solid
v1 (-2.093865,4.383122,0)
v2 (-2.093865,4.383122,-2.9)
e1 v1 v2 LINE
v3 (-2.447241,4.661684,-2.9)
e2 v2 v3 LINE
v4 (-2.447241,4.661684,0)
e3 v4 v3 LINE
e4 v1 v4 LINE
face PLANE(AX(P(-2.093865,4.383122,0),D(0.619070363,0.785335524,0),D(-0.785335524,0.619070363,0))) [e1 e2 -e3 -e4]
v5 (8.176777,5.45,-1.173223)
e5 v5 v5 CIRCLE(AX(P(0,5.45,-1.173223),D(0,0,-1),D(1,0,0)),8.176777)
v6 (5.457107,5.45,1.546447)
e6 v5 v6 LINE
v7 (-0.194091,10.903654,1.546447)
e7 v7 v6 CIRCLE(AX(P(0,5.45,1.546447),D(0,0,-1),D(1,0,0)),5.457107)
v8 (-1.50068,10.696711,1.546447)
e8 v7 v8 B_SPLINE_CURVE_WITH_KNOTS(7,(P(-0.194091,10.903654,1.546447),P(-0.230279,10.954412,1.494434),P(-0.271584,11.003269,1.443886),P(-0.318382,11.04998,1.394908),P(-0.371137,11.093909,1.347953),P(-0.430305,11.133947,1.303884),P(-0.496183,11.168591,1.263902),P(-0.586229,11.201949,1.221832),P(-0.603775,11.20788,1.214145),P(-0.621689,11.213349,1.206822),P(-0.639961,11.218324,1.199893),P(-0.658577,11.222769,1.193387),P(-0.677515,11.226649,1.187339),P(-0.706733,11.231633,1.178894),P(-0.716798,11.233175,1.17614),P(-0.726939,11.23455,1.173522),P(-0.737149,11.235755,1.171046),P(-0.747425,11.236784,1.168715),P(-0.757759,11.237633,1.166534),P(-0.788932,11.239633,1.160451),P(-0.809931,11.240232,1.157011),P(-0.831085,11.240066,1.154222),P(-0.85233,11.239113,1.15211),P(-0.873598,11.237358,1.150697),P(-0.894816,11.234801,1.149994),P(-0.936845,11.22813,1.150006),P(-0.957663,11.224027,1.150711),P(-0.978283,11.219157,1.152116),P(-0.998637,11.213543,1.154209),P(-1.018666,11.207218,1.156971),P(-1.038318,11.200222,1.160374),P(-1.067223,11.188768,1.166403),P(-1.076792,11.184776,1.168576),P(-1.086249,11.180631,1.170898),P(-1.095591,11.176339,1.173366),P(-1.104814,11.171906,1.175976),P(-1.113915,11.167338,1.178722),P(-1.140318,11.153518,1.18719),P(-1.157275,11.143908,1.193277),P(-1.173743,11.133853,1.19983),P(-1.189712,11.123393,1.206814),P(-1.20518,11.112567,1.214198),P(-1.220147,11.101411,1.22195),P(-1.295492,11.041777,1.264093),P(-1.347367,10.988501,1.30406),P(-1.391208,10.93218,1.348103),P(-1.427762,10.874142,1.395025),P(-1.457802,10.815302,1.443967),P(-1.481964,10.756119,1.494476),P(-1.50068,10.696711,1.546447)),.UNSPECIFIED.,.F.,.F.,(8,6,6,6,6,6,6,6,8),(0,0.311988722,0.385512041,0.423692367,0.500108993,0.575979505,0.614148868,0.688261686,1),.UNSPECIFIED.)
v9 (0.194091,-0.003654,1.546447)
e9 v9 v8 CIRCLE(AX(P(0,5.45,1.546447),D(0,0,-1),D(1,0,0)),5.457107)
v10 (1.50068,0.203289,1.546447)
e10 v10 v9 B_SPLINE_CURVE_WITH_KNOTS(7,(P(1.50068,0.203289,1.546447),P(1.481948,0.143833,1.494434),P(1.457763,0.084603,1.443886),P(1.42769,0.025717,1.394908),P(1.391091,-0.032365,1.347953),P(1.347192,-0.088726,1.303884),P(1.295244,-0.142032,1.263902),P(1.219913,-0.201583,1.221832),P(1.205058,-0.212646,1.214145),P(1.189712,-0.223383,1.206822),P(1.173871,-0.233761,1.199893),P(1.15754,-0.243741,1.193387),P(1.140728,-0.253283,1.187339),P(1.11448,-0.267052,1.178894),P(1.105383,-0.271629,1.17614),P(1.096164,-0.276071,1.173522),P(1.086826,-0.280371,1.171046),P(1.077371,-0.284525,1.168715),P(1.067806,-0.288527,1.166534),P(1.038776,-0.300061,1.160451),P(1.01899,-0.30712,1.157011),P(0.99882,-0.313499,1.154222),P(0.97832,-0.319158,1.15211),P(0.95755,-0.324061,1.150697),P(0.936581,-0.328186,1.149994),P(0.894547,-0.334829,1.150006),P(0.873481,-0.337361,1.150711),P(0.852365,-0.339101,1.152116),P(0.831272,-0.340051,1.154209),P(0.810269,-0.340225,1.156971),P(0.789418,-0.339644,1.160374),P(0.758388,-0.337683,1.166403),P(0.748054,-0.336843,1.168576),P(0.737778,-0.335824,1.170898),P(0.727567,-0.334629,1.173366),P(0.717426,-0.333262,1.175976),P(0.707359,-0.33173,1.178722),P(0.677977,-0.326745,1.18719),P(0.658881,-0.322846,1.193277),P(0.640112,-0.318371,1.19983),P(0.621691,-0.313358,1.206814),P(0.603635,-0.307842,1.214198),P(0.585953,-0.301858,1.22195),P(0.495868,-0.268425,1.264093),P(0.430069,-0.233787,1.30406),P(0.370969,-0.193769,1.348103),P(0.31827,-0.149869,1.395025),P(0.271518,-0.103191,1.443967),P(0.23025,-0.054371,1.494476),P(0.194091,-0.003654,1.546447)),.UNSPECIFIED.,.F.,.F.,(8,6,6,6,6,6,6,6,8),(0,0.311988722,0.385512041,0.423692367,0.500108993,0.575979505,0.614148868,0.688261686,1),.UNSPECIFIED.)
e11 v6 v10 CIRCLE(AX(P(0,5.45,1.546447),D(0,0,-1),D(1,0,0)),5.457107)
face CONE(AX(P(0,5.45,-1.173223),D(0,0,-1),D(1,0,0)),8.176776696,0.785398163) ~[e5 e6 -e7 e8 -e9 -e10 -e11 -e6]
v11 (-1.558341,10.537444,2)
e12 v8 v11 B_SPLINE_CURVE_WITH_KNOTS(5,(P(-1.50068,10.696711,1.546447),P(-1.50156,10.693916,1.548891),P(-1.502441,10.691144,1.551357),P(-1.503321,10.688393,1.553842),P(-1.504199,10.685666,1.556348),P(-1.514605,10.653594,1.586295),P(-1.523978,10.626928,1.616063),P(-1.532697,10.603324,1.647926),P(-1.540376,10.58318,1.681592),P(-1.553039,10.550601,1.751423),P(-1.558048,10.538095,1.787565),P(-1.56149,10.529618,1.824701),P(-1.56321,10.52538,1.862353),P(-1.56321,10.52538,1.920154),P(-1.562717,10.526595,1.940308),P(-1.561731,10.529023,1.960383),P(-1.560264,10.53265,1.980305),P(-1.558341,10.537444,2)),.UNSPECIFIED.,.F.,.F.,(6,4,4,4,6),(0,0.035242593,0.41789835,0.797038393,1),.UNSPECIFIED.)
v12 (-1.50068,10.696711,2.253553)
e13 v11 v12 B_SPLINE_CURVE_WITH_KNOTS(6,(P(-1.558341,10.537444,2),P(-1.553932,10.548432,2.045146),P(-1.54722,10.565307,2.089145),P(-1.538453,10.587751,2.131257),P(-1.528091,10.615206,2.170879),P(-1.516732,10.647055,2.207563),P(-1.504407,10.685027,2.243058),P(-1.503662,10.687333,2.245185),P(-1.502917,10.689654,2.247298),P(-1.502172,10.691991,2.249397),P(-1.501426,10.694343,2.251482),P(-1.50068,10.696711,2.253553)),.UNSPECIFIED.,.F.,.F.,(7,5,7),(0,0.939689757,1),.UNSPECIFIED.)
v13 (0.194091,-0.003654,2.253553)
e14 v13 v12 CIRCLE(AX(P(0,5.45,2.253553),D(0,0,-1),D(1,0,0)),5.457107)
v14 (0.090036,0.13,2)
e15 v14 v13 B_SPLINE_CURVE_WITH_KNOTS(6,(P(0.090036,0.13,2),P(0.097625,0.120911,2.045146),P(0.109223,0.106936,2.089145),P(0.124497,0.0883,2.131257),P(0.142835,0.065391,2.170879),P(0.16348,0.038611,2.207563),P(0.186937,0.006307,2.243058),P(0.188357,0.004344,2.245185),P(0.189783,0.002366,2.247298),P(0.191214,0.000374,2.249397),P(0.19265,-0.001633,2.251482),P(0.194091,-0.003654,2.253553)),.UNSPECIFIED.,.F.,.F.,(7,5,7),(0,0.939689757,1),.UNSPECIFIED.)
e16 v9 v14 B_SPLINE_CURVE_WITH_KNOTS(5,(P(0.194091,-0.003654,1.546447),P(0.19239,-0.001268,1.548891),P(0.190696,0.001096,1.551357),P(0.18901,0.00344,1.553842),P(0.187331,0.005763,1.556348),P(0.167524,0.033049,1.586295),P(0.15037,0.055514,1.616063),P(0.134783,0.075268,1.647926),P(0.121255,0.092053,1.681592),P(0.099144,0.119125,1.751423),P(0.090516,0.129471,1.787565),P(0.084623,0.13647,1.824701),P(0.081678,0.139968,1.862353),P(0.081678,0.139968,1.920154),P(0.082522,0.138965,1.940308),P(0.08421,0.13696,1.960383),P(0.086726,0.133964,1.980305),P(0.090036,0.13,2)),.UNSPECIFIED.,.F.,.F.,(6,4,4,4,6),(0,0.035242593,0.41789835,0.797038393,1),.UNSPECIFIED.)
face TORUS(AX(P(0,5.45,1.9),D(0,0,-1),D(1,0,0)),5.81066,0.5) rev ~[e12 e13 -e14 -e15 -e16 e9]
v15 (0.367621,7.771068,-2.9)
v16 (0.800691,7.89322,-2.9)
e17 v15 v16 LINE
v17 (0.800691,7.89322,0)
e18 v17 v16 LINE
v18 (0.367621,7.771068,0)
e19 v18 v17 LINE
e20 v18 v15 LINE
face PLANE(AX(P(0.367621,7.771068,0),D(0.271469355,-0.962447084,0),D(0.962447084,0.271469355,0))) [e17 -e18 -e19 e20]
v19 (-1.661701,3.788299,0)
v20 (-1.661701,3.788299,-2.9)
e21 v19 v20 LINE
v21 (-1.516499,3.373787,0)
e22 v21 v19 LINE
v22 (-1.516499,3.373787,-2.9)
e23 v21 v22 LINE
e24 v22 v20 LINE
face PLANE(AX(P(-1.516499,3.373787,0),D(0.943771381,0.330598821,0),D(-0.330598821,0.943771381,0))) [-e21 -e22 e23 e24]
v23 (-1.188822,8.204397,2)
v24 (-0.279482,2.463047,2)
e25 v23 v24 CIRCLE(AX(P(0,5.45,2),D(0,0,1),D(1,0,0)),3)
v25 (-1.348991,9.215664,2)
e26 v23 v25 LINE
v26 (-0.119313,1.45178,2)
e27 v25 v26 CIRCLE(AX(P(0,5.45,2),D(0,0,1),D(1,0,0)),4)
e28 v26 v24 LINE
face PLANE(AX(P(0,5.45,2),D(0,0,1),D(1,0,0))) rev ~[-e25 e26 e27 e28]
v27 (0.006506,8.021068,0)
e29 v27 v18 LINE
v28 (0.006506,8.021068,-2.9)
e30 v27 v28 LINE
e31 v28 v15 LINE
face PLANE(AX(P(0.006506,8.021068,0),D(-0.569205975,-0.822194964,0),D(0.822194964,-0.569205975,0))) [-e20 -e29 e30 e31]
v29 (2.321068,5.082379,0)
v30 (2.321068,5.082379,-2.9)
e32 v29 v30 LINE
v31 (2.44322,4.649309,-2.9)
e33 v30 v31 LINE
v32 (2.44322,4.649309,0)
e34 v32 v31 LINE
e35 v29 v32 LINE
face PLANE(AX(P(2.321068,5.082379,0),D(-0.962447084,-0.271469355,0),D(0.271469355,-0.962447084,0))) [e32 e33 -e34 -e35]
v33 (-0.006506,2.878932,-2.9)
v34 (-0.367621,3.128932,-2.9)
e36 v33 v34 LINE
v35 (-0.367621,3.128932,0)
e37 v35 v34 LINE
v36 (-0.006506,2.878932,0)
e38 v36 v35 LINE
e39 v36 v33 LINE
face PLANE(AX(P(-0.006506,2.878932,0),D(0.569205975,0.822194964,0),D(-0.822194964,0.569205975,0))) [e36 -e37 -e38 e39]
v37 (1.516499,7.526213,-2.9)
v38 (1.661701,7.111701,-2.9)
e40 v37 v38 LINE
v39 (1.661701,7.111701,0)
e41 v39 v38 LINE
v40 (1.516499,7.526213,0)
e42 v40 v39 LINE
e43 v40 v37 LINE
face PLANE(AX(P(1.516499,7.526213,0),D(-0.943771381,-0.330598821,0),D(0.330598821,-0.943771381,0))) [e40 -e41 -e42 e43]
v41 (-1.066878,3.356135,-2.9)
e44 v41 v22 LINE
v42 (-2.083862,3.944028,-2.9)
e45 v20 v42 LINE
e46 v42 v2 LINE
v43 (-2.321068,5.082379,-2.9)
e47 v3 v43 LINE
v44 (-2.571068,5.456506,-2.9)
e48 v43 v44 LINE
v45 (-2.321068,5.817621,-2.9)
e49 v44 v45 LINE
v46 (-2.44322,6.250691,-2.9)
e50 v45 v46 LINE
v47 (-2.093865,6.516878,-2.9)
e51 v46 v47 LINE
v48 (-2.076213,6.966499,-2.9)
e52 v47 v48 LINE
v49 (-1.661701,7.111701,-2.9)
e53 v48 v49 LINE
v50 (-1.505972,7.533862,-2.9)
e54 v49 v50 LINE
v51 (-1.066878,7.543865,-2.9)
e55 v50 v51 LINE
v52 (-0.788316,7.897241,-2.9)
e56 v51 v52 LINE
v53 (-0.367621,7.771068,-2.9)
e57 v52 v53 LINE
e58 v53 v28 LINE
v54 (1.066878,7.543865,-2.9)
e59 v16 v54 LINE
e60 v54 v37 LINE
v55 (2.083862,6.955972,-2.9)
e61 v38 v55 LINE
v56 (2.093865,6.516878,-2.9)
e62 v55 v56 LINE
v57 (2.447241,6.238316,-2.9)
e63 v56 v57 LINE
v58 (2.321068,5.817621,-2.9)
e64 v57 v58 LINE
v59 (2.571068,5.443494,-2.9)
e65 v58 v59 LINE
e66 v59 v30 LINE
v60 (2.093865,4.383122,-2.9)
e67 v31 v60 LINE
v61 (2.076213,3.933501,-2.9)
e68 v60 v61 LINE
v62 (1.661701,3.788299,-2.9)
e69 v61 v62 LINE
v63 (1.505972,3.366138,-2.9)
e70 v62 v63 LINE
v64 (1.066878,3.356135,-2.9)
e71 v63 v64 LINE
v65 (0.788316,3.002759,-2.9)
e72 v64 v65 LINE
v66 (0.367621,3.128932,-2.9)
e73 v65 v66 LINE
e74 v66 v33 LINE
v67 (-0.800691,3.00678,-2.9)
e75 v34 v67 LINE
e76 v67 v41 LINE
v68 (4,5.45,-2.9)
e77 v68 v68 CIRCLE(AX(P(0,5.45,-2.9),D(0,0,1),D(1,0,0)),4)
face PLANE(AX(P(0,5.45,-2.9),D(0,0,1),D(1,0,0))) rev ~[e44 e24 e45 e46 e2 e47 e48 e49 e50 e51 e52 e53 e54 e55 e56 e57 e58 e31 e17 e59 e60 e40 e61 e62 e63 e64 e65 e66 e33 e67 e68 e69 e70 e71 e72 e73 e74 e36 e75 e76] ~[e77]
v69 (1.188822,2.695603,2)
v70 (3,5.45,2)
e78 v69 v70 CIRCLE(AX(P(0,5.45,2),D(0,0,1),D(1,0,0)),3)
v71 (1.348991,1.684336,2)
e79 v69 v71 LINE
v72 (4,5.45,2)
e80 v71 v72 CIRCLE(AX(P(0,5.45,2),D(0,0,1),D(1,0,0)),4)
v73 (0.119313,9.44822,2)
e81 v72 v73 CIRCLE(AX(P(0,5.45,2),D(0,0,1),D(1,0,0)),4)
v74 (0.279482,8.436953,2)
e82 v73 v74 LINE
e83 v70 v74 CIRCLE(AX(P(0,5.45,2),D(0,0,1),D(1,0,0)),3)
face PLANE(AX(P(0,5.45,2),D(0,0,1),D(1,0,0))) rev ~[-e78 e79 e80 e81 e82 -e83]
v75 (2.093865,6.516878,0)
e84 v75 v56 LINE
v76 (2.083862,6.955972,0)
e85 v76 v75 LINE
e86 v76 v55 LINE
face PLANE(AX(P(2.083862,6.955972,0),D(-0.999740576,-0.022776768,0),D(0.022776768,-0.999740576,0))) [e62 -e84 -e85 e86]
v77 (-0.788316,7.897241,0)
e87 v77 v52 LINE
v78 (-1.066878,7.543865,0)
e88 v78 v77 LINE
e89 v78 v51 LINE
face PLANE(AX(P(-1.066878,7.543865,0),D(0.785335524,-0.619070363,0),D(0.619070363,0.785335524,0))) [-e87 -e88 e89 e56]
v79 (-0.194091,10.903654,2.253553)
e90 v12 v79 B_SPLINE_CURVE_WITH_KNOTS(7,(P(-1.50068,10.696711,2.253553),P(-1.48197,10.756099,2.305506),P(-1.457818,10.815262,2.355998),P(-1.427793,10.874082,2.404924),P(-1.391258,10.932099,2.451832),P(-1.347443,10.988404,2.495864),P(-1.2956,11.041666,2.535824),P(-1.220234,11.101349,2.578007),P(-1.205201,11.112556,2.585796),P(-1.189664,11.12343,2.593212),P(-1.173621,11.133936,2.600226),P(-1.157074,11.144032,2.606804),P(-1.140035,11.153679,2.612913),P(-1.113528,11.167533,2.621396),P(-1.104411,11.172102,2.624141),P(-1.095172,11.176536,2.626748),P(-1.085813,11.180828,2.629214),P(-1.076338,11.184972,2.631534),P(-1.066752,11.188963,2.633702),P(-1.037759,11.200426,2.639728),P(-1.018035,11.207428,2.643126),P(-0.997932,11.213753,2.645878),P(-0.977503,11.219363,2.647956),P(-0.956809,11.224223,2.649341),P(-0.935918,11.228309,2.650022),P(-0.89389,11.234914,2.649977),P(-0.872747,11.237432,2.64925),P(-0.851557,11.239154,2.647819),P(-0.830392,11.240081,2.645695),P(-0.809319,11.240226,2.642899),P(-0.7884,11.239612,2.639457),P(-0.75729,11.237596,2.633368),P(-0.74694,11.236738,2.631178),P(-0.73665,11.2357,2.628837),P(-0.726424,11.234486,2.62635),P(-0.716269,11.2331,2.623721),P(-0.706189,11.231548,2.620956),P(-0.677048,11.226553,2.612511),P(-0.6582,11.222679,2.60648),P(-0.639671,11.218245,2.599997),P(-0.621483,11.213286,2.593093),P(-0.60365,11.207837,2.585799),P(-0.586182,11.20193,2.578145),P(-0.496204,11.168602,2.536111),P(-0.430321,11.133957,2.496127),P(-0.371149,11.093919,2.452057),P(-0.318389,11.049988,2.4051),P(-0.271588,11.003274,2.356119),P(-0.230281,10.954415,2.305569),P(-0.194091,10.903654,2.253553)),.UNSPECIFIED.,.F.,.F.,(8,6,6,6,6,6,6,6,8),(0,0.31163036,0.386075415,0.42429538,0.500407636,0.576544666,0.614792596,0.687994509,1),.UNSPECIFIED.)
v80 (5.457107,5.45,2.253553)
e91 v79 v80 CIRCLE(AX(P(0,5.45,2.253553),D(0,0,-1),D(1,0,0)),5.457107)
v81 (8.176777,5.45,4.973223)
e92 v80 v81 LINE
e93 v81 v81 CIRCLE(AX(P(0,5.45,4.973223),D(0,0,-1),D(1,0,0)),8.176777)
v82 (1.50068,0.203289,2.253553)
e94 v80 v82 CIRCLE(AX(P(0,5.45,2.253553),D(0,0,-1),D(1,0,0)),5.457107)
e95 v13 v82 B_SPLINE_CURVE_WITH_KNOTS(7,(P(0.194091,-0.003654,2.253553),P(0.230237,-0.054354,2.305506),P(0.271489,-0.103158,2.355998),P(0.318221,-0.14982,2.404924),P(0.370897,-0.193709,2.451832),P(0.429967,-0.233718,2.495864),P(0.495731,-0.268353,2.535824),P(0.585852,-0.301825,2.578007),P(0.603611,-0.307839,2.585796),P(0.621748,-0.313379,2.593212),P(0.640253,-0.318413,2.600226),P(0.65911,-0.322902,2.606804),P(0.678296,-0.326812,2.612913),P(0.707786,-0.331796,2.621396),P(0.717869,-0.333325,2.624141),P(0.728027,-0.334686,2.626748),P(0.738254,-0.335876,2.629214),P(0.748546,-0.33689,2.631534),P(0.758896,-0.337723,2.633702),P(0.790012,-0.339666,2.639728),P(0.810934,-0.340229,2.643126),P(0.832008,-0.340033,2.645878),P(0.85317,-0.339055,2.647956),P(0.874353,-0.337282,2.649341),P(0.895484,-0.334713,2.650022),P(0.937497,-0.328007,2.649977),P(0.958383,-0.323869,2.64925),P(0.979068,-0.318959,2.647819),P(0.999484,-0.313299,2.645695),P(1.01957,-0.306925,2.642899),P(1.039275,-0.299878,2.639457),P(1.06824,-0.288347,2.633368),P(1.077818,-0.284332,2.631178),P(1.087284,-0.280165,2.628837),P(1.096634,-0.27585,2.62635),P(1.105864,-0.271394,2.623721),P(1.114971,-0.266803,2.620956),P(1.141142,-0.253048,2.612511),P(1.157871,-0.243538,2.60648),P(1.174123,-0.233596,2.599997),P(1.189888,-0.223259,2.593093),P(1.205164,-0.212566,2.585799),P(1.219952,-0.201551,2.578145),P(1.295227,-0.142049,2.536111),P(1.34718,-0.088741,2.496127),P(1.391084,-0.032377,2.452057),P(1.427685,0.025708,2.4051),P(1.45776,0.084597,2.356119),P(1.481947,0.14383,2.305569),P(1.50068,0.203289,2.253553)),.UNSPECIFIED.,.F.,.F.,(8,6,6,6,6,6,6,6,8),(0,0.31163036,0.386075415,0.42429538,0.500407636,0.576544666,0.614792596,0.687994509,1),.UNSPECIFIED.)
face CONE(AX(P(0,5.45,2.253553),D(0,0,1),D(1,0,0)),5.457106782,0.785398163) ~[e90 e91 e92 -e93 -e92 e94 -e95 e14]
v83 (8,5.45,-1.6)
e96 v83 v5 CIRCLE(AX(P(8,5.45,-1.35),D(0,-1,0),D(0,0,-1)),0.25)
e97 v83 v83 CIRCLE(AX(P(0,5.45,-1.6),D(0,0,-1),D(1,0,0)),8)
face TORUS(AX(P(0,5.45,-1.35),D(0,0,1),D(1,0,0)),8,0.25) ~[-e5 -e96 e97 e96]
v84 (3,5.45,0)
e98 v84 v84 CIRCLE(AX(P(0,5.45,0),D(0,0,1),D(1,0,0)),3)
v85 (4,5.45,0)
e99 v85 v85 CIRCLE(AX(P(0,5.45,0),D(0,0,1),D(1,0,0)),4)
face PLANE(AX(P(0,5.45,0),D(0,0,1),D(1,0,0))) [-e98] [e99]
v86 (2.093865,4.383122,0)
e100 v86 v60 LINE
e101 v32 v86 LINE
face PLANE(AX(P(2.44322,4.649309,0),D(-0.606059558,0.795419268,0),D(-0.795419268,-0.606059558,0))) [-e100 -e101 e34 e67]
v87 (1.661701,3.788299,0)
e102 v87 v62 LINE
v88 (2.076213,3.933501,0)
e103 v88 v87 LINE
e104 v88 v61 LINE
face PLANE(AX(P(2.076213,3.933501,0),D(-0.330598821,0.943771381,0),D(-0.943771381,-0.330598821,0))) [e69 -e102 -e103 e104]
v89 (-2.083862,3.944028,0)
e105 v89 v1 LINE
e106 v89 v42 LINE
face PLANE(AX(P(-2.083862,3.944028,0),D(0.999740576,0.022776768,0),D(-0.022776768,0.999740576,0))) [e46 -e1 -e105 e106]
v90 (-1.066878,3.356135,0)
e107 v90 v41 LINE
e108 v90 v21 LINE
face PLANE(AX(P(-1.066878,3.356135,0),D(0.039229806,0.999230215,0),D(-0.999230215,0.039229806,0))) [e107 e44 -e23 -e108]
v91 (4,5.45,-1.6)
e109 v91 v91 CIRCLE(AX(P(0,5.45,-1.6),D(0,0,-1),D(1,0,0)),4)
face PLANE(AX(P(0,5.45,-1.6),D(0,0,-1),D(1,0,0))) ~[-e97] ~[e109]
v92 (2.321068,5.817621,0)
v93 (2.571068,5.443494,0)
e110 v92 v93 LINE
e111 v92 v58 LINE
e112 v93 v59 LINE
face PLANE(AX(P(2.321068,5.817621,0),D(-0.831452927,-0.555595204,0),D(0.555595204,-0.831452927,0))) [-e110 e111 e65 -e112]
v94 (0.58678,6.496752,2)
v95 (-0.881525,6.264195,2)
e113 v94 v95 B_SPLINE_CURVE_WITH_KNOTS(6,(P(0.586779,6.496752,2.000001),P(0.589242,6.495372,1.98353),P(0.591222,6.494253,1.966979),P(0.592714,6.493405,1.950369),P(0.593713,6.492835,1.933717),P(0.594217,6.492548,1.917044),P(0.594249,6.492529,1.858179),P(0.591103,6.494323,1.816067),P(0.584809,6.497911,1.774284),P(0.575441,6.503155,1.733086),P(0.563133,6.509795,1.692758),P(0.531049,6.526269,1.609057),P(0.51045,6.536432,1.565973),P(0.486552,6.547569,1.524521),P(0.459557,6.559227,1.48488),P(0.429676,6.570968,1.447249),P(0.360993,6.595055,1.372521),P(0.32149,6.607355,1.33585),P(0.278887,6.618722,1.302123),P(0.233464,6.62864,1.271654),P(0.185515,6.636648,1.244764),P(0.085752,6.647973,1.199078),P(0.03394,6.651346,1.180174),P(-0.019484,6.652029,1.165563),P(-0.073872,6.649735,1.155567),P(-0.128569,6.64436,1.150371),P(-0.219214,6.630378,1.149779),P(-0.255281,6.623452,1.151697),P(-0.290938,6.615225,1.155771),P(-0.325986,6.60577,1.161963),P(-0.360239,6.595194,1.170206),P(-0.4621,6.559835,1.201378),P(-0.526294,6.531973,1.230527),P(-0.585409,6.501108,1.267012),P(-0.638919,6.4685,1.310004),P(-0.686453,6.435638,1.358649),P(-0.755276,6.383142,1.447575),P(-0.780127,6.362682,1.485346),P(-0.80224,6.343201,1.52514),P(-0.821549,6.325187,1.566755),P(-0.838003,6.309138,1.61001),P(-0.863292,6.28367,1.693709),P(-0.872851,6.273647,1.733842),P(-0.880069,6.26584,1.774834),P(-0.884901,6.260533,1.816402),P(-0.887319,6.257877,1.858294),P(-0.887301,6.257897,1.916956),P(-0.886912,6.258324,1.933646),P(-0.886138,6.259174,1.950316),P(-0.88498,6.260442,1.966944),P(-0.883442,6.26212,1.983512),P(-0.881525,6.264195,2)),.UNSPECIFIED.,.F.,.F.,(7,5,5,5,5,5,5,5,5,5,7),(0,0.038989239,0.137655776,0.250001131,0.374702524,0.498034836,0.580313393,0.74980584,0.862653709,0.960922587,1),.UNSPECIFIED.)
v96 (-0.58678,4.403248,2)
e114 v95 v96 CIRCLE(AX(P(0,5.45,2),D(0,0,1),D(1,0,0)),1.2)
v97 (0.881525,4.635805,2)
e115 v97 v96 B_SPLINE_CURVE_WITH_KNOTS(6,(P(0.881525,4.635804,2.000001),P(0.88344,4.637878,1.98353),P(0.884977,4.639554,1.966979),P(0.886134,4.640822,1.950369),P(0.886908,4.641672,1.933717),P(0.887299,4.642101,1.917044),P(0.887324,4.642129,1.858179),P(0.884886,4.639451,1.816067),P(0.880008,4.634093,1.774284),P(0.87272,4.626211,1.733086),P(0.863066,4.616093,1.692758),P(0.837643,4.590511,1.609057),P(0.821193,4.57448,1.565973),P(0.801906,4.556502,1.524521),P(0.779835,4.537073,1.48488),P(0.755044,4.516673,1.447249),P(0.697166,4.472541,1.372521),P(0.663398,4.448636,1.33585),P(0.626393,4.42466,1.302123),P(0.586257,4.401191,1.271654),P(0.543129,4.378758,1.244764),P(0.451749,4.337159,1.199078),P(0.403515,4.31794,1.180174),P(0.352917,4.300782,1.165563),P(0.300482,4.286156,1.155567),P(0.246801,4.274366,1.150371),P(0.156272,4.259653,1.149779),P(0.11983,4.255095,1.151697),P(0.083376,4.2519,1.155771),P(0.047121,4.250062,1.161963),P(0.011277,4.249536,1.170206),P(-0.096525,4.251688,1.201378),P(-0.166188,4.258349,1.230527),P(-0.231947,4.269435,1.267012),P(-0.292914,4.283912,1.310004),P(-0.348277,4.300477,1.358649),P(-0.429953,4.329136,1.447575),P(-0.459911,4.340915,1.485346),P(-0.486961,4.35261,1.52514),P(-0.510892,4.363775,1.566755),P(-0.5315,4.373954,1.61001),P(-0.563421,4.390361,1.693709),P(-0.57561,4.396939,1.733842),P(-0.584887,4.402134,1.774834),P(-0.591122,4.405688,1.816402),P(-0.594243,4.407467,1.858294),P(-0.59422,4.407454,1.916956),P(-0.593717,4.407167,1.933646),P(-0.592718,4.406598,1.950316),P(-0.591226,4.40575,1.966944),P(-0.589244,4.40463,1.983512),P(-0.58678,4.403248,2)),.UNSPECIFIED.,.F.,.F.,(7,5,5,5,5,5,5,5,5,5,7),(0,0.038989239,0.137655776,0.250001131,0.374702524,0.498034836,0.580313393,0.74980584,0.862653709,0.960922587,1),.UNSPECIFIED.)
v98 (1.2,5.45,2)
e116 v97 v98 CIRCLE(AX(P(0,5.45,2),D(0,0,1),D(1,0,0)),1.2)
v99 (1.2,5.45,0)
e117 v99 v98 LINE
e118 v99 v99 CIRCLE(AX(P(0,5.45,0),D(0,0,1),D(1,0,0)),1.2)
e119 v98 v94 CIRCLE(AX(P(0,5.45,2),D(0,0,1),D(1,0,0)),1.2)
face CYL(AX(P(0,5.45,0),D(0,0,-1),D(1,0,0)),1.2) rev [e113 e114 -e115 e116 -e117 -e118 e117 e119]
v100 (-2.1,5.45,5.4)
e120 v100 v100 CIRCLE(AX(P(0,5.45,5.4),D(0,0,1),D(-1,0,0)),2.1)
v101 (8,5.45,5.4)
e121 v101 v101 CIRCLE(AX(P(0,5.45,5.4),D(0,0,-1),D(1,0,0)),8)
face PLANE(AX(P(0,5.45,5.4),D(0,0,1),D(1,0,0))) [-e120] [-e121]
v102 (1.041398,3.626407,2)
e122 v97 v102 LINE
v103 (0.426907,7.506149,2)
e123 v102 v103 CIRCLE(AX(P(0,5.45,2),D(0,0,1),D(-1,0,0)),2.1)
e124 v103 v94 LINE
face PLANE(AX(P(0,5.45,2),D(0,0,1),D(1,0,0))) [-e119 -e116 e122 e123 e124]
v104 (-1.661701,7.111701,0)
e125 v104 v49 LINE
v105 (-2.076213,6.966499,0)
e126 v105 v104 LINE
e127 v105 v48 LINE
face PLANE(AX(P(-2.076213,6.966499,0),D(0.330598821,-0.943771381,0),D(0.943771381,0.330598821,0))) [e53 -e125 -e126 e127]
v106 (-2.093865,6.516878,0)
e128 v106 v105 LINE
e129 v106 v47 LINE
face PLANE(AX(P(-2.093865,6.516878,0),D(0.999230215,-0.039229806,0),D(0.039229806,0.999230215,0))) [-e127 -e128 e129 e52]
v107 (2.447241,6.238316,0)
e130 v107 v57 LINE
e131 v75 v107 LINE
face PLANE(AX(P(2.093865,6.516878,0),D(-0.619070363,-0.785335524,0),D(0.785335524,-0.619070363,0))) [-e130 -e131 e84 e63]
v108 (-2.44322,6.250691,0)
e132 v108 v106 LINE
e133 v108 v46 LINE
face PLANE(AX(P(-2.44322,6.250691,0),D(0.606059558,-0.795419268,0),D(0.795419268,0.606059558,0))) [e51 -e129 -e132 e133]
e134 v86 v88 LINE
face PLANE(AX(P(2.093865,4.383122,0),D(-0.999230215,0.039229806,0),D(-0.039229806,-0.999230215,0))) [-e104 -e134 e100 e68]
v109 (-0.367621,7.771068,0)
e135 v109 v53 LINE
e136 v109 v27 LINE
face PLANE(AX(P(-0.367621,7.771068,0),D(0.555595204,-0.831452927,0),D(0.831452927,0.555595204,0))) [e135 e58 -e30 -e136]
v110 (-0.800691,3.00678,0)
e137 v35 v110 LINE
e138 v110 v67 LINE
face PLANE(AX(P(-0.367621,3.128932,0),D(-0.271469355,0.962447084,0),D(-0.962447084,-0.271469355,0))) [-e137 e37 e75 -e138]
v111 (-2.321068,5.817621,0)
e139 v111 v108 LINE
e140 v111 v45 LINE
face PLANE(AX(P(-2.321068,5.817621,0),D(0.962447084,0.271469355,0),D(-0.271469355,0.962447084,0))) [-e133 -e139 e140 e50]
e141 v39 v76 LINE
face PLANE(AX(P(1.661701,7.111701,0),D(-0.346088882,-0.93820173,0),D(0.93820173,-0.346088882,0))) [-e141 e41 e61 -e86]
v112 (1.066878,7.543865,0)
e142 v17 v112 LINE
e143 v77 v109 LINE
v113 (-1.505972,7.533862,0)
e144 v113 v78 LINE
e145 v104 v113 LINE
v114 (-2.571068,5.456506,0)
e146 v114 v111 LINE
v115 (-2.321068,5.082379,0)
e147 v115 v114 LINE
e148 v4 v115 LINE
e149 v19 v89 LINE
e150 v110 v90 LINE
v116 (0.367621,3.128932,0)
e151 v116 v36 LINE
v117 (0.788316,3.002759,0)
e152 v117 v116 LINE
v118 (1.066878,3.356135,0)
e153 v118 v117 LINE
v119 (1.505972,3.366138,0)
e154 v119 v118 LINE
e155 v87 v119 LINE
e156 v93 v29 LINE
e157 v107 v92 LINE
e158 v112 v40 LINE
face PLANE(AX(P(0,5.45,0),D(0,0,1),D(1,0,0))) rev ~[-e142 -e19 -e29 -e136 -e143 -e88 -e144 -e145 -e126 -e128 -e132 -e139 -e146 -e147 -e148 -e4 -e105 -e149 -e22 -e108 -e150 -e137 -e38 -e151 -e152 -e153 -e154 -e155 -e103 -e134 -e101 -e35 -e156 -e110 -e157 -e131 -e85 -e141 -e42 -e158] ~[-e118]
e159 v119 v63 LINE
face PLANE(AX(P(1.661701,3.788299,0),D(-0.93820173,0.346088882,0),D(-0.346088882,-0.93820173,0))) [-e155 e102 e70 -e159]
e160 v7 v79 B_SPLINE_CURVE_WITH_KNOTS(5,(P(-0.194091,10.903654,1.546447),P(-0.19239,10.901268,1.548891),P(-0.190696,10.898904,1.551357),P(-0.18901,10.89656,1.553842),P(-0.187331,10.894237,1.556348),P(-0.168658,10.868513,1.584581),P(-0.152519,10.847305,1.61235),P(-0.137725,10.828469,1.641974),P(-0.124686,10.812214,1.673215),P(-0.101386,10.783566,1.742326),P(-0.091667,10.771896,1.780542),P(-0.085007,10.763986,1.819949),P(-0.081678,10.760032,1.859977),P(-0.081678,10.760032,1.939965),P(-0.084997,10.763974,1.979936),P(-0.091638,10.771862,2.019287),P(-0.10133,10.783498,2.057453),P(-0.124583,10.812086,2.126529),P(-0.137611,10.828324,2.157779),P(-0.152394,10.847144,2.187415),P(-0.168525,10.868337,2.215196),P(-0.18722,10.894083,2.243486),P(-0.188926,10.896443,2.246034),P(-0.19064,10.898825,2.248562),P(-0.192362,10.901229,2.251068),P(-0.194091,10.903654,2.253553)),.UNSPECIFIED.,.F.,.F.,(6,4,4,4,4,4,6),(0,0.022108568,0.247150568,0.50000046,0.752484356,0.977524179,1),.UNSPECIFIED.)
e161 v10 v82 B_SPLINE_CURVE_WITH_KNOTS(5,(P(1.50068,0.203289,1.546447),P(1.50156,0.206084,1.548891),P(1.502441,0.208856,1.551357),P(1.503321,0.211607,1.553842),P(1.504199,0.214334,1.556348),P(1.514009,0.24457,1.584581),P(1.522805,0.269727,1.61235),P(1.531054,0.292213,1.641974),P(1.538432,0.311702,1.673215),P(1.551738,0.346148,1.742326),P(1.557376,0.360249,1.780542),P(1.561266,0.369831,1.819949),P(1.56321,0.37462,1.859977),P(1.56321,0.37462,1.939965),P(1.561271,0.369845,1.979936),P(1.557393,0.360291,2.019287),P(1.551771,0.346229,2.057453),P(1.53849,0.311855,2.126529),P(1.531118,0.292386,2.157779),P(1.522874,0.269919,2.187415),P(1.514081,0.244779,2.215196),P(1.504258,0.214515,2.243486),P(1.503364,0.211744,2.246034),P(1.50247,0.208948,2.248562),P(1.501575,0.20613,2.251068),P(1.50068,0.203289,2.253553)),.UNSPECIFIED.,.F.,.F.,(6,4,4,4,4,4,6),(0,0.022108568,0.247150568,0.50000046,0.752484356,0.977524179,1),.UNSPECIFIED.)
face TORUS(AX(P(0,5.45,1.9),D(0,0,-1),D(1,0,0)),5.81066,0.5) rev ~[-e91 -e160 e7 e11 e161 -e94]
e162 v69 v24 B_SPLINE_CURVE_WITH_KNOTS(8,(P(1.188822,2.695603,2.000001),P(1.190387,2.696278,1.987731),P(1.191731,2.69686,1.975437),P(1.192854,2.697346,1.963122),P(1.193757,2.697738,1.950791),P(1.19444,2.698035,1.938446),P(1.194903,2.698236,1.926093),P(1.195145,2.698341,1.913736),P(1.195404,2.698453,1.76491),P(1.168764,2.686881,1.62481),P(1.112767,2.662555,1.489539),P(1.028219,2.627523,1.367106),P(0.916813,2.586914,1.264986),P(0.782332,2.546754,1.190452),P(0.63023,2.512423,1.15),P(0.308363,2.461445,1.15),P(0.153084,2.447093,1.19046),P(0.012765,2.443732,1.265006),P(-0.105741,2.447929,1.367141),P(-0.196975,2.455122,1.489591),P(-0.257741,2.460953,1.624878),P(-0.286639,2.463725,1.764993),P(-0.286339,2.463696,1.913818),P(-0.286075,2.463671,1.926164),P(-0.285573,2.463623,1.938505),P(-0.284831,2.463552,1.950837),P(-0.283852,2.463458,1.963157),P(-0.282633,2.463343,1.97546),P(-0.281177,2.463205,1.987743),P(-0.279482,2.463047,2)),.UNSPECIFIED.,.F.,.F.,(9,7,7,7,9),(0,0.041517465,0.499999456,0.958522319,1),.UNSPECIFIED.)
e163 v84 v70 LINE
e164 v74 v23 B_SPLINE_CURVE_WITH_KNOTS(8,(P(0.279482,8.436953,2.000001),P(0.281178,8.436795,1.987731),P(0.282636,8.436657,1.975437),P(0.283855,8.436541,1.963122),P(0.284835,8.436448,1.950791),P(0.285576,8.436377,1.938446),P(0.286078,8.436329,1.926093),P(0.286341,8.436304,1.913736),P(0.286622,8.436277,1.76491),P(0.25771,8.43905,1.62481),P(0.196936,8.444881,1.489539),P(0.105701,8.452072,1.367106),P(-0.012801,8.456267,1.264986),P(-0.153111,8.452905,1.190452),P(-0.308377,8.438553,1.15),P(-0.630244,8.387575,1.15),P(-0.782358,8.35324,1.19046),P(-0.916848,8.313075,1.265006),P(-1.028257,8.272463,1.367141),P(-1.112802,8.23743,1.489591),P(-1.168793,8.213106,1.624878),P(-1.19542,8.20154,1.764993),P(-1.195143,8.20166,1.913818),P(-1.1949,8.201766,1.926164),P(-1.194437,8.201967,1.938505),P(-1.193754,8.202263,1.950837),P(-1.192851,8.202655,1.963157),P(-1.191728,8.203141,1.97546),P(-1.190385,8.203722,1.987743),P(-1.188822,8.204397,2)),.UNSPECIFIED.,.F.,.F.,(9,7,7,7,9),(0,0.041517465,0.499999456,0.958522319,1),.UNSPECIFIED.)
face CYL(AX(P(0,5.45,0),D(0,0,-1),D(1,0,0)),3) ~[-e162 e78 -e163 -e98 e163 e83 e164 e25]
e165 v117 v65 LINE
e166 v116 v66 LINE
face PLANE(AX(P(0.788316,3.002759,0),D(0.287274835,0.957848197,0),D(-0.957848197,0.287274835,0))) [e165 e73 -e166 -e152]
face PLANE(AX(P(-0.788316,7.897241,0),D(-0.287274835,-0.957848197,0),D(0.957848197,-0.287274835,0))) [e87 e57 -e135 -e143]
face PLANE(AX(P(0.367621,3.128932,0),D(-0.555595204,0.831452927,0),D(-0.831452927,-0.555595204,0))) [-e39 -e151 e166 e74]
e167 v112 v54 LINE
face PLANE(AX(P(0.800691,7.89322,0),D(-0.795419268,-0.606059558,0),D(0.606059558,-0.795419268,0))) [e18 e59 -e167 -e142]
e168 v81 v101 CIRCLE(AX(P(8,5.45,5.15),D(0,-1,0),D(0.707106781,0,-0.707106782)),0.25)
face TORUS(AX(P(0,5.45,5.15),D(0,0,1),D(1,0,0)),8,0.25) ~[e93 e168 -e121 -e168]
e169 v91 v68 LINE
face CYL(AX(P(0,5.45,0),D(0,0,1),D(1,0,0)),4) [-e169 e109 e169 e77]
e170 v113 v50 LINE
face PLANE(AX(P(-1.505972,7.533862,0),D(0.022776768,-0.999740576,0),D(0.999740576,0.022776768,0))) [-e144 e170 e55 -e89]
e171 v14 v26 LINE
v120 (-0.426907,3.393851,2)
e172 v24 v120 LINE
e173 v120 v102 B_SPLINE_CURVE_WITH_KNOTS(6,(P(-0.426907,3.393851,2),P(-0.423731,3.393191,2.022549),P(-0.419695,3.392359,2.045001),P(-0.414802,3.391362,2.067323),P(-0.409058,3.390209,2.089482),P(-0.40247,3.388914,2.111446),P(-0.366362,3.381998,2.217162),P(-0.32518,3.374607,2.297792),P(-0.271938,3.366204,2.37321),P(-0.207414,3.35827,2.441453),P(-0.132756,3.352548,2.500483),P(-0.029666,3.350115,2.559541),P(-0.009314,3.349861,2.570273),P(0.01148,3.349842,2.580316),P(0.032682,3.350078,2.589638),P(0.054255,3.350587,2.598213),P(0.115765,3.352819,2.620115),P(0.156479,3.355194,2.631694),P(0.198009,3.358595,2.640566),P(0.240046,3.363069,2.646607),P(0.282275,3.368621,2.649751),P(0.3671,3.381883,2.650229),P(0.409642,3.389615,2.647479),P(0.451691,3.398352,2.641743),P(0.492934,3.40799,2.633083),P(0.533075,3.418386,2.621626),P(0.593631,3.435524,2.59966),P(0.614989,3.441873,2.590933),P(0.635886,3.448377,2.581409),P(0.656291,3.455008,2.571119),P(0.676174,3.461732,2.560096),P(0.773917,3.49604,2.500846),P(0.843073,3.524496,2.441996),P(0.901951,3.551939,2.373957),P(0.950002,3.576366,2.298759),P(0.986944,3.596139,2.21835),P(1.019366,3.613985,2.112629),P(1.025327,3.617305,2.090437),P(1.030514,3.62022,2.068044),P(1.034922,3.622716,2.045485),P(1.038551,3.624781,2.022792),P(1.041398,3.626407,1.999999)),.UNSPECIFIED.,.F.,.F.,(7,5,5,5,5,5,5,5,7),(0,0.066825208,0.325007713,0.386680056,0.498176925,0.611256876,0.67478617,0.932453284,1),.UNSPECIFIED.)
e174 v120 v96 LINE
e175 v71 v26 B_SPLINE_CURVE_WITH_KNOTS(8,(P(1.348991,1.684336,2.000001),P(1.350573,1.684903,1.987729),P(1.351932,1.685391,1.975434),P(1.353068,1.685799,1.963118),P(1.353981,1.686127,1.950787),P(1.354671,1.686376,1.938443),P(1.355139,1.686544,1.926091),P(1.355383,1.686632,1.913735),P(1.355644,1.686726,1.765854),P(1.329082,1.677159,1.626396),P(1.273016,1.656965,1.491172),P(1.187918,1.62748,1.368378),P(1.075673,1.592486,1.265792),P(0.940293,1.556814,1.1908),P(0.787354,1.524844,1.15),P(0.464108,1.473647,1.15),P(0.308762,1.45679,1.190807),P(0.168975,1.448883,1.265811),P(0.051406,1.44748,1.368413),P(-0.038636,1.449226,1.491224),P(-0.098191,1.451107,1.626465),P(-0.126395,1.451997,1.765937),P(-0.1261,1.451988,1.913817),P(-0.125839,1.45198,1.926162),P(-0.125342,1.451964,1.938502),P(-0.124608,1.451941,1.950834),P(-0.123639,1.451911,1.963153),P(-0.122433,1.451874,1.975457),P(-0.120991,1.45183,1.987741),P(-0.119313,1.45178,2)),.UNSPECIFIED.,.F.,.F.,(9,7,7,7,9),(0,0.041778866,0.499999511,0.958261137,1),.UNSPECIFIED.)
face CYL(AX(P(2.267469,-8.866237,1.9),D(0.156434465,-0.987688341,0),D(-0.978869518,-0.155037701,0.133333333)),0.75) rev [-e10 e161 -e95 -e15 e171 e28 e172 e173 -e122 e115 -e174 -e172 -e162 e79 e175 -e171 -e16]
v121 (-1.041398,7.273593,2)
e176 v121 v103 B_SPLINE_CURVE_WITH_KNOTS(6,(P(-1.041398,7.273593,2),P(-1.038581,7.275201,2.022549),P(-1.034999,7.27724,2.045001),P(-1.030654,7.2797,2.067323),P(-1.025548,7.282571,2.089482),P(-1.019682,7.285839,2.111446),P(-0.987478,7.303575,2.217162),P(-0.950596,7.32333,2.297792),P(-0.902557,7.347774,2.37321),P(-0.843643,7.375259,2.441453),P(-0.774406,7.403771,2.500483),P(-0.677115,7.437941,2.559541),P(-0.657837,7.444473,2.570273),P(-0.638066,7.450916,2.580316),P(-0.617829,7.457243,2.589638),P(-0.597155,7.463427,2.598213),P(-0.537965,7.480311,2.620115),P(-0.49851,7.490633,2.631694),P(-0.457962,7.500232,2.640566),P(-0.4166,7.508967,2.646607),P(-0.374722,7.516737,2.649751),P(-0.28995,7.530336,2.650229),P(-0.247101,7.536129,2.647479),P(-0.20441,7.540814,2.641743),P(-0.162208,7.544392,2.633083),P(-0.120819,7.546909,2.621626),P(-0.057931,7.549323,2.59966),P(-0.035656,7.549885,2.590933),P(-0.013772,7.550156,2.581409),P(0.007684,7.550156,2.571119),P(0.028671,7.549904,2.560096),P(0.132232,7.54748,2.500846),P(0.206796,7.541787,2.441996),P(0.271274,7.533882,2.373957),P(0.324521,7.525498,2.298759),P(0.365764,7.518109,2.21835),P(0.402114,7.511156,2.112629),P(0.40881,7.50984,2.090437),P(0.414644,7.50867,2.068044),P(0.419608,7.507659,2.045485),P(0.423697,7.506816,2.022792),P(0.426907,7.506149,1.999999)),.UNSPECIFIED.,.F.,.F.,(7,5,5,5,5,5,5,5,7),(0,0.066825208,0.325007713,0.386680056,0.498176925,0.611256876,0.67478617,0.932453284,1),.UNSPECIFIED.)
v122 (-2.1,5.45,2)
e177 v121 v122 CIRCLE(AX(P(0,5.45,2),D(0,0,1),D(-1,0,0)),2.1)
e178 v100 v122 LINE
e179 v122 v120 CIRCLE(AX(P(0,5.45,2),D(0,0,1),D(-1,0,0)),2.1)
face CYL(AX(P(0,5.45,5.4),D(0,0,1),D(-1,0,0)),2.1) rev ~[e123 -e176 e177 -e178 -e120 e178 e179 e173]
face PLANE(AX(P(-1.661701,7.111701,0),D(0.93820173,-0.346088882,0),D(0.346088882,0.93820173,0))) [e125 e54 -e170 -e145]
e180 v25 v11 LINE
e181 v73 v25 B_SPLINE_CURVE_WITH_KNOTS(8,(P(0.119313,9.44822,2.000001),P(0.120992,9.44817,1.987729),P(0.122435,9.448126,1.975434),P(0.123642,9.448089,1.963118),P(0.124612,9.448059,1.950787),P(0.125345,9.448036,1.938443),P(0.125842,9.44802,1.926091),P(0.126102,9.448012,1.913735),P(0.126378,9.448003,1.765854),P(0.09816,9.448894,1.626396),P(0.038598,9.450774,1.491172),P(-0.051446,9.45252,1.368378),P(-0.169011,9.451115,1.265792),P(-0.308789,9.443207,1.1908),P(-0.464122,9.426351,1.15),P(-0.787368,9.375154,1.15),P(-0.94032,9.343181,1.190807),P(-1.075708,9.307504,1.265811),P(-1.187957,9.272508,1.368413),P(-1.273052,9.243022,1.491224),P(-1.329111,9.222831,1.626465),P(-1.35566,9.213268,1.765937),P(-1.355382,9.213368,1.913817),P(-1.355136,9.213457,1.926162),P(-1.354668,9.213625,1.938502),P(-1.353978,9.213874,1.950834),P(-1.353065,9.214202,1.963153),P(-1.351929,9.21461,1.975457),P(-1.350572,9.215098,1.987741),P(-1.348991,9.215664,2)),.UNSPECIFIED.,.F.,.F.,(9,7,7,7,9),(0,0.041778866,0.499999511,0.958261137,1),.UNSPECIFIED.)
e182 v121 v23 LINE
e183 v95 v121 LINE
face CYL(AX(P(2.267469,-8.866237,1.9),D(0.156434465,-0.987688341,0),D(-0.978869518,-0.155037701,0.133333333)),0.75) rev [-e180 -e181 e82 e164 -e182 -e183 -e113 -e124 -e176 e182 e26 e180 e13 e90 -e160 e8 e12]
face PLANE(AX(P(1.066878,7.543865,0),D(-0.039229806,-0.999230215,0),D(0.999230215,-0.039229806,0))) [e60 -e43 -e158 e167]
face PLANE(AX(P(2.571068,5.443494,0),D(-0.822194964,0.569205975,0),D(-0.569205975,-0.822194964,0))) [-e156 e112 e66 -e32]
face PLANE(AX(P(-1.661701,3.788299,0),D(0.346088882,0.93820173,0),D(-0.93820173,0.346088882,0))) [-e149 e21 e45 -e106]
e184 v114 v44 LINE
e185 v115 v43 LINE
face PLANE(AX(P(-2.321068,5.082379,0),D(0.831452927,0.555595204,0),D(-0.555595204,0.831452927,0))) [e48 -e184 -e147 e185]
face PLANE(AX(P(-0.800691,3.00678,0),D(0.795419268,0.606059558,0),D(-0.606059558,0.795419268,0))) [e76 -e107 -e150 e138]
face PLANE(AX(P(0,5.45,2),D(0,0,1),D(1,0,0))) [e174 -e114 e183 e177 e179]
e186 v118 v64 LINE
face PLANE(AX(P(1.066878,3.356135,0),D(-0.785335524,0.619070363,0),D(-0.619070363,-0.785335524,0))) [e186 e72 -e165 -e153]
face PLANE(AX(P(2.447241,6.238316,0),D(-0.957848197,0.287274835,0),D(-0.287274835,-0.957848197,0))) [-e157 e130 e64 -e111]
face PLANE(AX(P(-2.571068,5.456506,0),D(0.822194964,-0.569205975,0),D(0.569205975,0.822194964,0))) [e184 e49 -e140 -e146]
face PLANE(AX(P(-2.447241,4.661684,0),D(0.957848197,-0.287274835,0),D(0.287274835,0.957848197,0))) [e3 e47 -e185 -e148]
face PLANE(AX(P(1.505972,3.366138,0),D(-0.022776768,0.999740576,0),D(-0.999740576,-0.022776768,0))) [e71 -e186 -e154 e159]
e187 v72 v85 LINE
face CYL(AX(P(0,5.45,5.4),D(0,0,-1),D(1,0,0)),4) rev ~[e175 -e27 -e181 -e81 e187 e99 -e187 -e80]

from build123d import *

# Parameters (mm, degrees)
SKETCH2_R               = 4
BOSS_EXTRUDE1_DEPTH     = 2.9
SKETCH3_R               = 3
SKETCH3_R_2             = 1.2
BOSS_EXTRUDE2_DEPTH     = 2
BOSS_EXTRUDE3_START     = 3.4
SKETCH5_R               = 4
SKETCH5_R_2             = 2.1
BOSS_EXTRUDE3_DEPTH     = 3.4
CUT_EXTRUDE1_DEPTH      = 14.494690563
CUT_EXTRUDE1_DEPTH_BACK = 14.494690563
SKETCH7_R               = 0.75


with BuildPart() as part:
    # Sketch2 → Boss-Extrude1 (new body)
    with BuildSketch(Plane.XY):
        with Locations((0, 5.45)):
            Circle(SKETCH2_R)
        Polygon((-0.367620993, 7.7710676), (0.006506124, 8.0210676), (0.367620993, 7.7710676), (0.800691274, 7.893220092), (1.066877674, 7.543865332), (1.516499183, 7.526213179), (1.661700936, 7.111700936), (2.083861586, 6.955972053), (2.093865332, 6.516877674), (2.447241098, 6.238315891), (2.3210676, 5.817620993), (2.5710676, 5.443493876), (2.3210676, 5.082379007), (2.443220092, 4.649308726), (2.093865332, 4.383122326), (2.076213179, 3.933500817), (1.661700936, 3.788299064), (1.505972053, 3.366138414), (1.066877674, 3.356134668), (0.788315891, 3.002758902), (0.367620993, 3.1289324), (-0.006506124, 2.8789324), (-0.367620993, 3.1289324), (-0.800691274, 3.006779908), (-1.066877674, 3.356134668), (-1.516499183, 3.373786821), (-1.661700936, 3.788299064), (-2.083861586, 3.944027947), (-2.093865332, 4.383122326), (-2.447241098, 4.661684109), (-2.3210676, 5.082379007), (-2.5710676, 5.456506124), (-2.3210676, 5.817620993), (-2.443220092, 6.250691274), (-2.093865332, 6.516877674), (-2.076213179, 6.966499183), (-1.661700936, 7.111700936), (-1.505972053, 7.533861586), (-1.066877674, 7.543865332), (-0.788315891, 7.897241098), align=None, mode=Mode.SUBTRACT)
    extrude(amount=-BOSS_EXTRUDE1_DEPTH)

    # Sketch3 → Boss-Extrude2 (add)
    with BuildSketch(Plane.XY):
        with Locations((0, 5.45)):
            Circle(SKETCH3_R)
        with Locations((0, 5.45)):
            Circle(SKETCH3_R_2, mode=Mode.SUBTRACT)
    extrude(amount=BOSS_EXTRUDE2_DEPTH)



with BuildPart() as body_2:
    # Sketch4 → Revolve1 (revolve)
    with BuildSketch(Plane(origin=(-0.84207131, 5.316629007, 0), x_dir=(0.9876883405951381, 0.1564344650402286, 0), z_dir=(-0.1564344650402286, 0.9876883405951381, 0)), mode=Mode.PRIVATE) as revolve1_sk:
        with BuildLine():
            Line((-3.147432166, 1.6), (-7.147432166, 1.6))
            ThreePointArc((-7.147432166, 1.6), (-7.378402049, 1.445670858), (-7.324208861, 1.173223305))
            Line((-7.324208861, 1.173223305), (-4.604538947, -1.546446609))
            ThreePointArc((-4.604538947, -1.546446609), (-4.458092337, -1.9), (-4.604538947, -2.253553391))
            Line((-4.604538947, -2.253553391), (-7.324208861, -4.973223305))
            ThreePointArc((-7.324208861, -4.973223305), (-7.378402049, -5.245670858), (-7.147432166, -5.4))
            Line((-7.147432166, -5.4), (-3.147432166, -5.4))
            Line((-3.147432166, -5.4), (-3.147432166, 1.6))
        make_face()
    revolve(revolve1_sk.sketch.rotate(Axis((0, 5.45, 2), (0, 0, -1)), 189), axis=Axis((0, 5.45, 2), (0, 0, -1)))


with BuildPart() as part_1:
    add(part.part)

    add(body_2.part)  # Boss-Extrude3 merges body 2
    # Sketch5 → Boss-Extrude3 (add)
    with BuildSketch(Plane.XY.offset(2).offset(BOSS_EXTRUDE3_START)):
        with Locations((0, 5.45)):
            Circle(SKETCH5_R)
        with Locations(Location((0, 5.45, 0), (0, 0, 180))):
            Circle(SKETCH5_R_2, mode=Mode.SUBTRACT)
    extrude(amount=-BOSS_EXTRUDE3_DEPTH)

    # Sketch7 → Cut-Extrude1 (cut, two sides: drawn at the far end of the back side and taken through both)
    with BuildSketch(Plane(origin=(-0.84207131, 5.316629007, 0), x_dir=(0.9876883405951381, 0.1564344650402286, 0), z_dir=(-0.1564344650402286, 0.9876883405951381, 0)).offset(-CUT_EXTRUDE1_DEPTH_BACK)):
        with Locations(Location((0.852567834, -1.9, 0), (0, 0, 187.662255661))):
            Circle(SKETCH7_R)
    extrude(amount=CUT_EXTRUDE1_DEPTH + CUT_EXTRUDE1_DEPTH_BACK, mode=Mode.SUBTRACT)


solid = part_1.part
